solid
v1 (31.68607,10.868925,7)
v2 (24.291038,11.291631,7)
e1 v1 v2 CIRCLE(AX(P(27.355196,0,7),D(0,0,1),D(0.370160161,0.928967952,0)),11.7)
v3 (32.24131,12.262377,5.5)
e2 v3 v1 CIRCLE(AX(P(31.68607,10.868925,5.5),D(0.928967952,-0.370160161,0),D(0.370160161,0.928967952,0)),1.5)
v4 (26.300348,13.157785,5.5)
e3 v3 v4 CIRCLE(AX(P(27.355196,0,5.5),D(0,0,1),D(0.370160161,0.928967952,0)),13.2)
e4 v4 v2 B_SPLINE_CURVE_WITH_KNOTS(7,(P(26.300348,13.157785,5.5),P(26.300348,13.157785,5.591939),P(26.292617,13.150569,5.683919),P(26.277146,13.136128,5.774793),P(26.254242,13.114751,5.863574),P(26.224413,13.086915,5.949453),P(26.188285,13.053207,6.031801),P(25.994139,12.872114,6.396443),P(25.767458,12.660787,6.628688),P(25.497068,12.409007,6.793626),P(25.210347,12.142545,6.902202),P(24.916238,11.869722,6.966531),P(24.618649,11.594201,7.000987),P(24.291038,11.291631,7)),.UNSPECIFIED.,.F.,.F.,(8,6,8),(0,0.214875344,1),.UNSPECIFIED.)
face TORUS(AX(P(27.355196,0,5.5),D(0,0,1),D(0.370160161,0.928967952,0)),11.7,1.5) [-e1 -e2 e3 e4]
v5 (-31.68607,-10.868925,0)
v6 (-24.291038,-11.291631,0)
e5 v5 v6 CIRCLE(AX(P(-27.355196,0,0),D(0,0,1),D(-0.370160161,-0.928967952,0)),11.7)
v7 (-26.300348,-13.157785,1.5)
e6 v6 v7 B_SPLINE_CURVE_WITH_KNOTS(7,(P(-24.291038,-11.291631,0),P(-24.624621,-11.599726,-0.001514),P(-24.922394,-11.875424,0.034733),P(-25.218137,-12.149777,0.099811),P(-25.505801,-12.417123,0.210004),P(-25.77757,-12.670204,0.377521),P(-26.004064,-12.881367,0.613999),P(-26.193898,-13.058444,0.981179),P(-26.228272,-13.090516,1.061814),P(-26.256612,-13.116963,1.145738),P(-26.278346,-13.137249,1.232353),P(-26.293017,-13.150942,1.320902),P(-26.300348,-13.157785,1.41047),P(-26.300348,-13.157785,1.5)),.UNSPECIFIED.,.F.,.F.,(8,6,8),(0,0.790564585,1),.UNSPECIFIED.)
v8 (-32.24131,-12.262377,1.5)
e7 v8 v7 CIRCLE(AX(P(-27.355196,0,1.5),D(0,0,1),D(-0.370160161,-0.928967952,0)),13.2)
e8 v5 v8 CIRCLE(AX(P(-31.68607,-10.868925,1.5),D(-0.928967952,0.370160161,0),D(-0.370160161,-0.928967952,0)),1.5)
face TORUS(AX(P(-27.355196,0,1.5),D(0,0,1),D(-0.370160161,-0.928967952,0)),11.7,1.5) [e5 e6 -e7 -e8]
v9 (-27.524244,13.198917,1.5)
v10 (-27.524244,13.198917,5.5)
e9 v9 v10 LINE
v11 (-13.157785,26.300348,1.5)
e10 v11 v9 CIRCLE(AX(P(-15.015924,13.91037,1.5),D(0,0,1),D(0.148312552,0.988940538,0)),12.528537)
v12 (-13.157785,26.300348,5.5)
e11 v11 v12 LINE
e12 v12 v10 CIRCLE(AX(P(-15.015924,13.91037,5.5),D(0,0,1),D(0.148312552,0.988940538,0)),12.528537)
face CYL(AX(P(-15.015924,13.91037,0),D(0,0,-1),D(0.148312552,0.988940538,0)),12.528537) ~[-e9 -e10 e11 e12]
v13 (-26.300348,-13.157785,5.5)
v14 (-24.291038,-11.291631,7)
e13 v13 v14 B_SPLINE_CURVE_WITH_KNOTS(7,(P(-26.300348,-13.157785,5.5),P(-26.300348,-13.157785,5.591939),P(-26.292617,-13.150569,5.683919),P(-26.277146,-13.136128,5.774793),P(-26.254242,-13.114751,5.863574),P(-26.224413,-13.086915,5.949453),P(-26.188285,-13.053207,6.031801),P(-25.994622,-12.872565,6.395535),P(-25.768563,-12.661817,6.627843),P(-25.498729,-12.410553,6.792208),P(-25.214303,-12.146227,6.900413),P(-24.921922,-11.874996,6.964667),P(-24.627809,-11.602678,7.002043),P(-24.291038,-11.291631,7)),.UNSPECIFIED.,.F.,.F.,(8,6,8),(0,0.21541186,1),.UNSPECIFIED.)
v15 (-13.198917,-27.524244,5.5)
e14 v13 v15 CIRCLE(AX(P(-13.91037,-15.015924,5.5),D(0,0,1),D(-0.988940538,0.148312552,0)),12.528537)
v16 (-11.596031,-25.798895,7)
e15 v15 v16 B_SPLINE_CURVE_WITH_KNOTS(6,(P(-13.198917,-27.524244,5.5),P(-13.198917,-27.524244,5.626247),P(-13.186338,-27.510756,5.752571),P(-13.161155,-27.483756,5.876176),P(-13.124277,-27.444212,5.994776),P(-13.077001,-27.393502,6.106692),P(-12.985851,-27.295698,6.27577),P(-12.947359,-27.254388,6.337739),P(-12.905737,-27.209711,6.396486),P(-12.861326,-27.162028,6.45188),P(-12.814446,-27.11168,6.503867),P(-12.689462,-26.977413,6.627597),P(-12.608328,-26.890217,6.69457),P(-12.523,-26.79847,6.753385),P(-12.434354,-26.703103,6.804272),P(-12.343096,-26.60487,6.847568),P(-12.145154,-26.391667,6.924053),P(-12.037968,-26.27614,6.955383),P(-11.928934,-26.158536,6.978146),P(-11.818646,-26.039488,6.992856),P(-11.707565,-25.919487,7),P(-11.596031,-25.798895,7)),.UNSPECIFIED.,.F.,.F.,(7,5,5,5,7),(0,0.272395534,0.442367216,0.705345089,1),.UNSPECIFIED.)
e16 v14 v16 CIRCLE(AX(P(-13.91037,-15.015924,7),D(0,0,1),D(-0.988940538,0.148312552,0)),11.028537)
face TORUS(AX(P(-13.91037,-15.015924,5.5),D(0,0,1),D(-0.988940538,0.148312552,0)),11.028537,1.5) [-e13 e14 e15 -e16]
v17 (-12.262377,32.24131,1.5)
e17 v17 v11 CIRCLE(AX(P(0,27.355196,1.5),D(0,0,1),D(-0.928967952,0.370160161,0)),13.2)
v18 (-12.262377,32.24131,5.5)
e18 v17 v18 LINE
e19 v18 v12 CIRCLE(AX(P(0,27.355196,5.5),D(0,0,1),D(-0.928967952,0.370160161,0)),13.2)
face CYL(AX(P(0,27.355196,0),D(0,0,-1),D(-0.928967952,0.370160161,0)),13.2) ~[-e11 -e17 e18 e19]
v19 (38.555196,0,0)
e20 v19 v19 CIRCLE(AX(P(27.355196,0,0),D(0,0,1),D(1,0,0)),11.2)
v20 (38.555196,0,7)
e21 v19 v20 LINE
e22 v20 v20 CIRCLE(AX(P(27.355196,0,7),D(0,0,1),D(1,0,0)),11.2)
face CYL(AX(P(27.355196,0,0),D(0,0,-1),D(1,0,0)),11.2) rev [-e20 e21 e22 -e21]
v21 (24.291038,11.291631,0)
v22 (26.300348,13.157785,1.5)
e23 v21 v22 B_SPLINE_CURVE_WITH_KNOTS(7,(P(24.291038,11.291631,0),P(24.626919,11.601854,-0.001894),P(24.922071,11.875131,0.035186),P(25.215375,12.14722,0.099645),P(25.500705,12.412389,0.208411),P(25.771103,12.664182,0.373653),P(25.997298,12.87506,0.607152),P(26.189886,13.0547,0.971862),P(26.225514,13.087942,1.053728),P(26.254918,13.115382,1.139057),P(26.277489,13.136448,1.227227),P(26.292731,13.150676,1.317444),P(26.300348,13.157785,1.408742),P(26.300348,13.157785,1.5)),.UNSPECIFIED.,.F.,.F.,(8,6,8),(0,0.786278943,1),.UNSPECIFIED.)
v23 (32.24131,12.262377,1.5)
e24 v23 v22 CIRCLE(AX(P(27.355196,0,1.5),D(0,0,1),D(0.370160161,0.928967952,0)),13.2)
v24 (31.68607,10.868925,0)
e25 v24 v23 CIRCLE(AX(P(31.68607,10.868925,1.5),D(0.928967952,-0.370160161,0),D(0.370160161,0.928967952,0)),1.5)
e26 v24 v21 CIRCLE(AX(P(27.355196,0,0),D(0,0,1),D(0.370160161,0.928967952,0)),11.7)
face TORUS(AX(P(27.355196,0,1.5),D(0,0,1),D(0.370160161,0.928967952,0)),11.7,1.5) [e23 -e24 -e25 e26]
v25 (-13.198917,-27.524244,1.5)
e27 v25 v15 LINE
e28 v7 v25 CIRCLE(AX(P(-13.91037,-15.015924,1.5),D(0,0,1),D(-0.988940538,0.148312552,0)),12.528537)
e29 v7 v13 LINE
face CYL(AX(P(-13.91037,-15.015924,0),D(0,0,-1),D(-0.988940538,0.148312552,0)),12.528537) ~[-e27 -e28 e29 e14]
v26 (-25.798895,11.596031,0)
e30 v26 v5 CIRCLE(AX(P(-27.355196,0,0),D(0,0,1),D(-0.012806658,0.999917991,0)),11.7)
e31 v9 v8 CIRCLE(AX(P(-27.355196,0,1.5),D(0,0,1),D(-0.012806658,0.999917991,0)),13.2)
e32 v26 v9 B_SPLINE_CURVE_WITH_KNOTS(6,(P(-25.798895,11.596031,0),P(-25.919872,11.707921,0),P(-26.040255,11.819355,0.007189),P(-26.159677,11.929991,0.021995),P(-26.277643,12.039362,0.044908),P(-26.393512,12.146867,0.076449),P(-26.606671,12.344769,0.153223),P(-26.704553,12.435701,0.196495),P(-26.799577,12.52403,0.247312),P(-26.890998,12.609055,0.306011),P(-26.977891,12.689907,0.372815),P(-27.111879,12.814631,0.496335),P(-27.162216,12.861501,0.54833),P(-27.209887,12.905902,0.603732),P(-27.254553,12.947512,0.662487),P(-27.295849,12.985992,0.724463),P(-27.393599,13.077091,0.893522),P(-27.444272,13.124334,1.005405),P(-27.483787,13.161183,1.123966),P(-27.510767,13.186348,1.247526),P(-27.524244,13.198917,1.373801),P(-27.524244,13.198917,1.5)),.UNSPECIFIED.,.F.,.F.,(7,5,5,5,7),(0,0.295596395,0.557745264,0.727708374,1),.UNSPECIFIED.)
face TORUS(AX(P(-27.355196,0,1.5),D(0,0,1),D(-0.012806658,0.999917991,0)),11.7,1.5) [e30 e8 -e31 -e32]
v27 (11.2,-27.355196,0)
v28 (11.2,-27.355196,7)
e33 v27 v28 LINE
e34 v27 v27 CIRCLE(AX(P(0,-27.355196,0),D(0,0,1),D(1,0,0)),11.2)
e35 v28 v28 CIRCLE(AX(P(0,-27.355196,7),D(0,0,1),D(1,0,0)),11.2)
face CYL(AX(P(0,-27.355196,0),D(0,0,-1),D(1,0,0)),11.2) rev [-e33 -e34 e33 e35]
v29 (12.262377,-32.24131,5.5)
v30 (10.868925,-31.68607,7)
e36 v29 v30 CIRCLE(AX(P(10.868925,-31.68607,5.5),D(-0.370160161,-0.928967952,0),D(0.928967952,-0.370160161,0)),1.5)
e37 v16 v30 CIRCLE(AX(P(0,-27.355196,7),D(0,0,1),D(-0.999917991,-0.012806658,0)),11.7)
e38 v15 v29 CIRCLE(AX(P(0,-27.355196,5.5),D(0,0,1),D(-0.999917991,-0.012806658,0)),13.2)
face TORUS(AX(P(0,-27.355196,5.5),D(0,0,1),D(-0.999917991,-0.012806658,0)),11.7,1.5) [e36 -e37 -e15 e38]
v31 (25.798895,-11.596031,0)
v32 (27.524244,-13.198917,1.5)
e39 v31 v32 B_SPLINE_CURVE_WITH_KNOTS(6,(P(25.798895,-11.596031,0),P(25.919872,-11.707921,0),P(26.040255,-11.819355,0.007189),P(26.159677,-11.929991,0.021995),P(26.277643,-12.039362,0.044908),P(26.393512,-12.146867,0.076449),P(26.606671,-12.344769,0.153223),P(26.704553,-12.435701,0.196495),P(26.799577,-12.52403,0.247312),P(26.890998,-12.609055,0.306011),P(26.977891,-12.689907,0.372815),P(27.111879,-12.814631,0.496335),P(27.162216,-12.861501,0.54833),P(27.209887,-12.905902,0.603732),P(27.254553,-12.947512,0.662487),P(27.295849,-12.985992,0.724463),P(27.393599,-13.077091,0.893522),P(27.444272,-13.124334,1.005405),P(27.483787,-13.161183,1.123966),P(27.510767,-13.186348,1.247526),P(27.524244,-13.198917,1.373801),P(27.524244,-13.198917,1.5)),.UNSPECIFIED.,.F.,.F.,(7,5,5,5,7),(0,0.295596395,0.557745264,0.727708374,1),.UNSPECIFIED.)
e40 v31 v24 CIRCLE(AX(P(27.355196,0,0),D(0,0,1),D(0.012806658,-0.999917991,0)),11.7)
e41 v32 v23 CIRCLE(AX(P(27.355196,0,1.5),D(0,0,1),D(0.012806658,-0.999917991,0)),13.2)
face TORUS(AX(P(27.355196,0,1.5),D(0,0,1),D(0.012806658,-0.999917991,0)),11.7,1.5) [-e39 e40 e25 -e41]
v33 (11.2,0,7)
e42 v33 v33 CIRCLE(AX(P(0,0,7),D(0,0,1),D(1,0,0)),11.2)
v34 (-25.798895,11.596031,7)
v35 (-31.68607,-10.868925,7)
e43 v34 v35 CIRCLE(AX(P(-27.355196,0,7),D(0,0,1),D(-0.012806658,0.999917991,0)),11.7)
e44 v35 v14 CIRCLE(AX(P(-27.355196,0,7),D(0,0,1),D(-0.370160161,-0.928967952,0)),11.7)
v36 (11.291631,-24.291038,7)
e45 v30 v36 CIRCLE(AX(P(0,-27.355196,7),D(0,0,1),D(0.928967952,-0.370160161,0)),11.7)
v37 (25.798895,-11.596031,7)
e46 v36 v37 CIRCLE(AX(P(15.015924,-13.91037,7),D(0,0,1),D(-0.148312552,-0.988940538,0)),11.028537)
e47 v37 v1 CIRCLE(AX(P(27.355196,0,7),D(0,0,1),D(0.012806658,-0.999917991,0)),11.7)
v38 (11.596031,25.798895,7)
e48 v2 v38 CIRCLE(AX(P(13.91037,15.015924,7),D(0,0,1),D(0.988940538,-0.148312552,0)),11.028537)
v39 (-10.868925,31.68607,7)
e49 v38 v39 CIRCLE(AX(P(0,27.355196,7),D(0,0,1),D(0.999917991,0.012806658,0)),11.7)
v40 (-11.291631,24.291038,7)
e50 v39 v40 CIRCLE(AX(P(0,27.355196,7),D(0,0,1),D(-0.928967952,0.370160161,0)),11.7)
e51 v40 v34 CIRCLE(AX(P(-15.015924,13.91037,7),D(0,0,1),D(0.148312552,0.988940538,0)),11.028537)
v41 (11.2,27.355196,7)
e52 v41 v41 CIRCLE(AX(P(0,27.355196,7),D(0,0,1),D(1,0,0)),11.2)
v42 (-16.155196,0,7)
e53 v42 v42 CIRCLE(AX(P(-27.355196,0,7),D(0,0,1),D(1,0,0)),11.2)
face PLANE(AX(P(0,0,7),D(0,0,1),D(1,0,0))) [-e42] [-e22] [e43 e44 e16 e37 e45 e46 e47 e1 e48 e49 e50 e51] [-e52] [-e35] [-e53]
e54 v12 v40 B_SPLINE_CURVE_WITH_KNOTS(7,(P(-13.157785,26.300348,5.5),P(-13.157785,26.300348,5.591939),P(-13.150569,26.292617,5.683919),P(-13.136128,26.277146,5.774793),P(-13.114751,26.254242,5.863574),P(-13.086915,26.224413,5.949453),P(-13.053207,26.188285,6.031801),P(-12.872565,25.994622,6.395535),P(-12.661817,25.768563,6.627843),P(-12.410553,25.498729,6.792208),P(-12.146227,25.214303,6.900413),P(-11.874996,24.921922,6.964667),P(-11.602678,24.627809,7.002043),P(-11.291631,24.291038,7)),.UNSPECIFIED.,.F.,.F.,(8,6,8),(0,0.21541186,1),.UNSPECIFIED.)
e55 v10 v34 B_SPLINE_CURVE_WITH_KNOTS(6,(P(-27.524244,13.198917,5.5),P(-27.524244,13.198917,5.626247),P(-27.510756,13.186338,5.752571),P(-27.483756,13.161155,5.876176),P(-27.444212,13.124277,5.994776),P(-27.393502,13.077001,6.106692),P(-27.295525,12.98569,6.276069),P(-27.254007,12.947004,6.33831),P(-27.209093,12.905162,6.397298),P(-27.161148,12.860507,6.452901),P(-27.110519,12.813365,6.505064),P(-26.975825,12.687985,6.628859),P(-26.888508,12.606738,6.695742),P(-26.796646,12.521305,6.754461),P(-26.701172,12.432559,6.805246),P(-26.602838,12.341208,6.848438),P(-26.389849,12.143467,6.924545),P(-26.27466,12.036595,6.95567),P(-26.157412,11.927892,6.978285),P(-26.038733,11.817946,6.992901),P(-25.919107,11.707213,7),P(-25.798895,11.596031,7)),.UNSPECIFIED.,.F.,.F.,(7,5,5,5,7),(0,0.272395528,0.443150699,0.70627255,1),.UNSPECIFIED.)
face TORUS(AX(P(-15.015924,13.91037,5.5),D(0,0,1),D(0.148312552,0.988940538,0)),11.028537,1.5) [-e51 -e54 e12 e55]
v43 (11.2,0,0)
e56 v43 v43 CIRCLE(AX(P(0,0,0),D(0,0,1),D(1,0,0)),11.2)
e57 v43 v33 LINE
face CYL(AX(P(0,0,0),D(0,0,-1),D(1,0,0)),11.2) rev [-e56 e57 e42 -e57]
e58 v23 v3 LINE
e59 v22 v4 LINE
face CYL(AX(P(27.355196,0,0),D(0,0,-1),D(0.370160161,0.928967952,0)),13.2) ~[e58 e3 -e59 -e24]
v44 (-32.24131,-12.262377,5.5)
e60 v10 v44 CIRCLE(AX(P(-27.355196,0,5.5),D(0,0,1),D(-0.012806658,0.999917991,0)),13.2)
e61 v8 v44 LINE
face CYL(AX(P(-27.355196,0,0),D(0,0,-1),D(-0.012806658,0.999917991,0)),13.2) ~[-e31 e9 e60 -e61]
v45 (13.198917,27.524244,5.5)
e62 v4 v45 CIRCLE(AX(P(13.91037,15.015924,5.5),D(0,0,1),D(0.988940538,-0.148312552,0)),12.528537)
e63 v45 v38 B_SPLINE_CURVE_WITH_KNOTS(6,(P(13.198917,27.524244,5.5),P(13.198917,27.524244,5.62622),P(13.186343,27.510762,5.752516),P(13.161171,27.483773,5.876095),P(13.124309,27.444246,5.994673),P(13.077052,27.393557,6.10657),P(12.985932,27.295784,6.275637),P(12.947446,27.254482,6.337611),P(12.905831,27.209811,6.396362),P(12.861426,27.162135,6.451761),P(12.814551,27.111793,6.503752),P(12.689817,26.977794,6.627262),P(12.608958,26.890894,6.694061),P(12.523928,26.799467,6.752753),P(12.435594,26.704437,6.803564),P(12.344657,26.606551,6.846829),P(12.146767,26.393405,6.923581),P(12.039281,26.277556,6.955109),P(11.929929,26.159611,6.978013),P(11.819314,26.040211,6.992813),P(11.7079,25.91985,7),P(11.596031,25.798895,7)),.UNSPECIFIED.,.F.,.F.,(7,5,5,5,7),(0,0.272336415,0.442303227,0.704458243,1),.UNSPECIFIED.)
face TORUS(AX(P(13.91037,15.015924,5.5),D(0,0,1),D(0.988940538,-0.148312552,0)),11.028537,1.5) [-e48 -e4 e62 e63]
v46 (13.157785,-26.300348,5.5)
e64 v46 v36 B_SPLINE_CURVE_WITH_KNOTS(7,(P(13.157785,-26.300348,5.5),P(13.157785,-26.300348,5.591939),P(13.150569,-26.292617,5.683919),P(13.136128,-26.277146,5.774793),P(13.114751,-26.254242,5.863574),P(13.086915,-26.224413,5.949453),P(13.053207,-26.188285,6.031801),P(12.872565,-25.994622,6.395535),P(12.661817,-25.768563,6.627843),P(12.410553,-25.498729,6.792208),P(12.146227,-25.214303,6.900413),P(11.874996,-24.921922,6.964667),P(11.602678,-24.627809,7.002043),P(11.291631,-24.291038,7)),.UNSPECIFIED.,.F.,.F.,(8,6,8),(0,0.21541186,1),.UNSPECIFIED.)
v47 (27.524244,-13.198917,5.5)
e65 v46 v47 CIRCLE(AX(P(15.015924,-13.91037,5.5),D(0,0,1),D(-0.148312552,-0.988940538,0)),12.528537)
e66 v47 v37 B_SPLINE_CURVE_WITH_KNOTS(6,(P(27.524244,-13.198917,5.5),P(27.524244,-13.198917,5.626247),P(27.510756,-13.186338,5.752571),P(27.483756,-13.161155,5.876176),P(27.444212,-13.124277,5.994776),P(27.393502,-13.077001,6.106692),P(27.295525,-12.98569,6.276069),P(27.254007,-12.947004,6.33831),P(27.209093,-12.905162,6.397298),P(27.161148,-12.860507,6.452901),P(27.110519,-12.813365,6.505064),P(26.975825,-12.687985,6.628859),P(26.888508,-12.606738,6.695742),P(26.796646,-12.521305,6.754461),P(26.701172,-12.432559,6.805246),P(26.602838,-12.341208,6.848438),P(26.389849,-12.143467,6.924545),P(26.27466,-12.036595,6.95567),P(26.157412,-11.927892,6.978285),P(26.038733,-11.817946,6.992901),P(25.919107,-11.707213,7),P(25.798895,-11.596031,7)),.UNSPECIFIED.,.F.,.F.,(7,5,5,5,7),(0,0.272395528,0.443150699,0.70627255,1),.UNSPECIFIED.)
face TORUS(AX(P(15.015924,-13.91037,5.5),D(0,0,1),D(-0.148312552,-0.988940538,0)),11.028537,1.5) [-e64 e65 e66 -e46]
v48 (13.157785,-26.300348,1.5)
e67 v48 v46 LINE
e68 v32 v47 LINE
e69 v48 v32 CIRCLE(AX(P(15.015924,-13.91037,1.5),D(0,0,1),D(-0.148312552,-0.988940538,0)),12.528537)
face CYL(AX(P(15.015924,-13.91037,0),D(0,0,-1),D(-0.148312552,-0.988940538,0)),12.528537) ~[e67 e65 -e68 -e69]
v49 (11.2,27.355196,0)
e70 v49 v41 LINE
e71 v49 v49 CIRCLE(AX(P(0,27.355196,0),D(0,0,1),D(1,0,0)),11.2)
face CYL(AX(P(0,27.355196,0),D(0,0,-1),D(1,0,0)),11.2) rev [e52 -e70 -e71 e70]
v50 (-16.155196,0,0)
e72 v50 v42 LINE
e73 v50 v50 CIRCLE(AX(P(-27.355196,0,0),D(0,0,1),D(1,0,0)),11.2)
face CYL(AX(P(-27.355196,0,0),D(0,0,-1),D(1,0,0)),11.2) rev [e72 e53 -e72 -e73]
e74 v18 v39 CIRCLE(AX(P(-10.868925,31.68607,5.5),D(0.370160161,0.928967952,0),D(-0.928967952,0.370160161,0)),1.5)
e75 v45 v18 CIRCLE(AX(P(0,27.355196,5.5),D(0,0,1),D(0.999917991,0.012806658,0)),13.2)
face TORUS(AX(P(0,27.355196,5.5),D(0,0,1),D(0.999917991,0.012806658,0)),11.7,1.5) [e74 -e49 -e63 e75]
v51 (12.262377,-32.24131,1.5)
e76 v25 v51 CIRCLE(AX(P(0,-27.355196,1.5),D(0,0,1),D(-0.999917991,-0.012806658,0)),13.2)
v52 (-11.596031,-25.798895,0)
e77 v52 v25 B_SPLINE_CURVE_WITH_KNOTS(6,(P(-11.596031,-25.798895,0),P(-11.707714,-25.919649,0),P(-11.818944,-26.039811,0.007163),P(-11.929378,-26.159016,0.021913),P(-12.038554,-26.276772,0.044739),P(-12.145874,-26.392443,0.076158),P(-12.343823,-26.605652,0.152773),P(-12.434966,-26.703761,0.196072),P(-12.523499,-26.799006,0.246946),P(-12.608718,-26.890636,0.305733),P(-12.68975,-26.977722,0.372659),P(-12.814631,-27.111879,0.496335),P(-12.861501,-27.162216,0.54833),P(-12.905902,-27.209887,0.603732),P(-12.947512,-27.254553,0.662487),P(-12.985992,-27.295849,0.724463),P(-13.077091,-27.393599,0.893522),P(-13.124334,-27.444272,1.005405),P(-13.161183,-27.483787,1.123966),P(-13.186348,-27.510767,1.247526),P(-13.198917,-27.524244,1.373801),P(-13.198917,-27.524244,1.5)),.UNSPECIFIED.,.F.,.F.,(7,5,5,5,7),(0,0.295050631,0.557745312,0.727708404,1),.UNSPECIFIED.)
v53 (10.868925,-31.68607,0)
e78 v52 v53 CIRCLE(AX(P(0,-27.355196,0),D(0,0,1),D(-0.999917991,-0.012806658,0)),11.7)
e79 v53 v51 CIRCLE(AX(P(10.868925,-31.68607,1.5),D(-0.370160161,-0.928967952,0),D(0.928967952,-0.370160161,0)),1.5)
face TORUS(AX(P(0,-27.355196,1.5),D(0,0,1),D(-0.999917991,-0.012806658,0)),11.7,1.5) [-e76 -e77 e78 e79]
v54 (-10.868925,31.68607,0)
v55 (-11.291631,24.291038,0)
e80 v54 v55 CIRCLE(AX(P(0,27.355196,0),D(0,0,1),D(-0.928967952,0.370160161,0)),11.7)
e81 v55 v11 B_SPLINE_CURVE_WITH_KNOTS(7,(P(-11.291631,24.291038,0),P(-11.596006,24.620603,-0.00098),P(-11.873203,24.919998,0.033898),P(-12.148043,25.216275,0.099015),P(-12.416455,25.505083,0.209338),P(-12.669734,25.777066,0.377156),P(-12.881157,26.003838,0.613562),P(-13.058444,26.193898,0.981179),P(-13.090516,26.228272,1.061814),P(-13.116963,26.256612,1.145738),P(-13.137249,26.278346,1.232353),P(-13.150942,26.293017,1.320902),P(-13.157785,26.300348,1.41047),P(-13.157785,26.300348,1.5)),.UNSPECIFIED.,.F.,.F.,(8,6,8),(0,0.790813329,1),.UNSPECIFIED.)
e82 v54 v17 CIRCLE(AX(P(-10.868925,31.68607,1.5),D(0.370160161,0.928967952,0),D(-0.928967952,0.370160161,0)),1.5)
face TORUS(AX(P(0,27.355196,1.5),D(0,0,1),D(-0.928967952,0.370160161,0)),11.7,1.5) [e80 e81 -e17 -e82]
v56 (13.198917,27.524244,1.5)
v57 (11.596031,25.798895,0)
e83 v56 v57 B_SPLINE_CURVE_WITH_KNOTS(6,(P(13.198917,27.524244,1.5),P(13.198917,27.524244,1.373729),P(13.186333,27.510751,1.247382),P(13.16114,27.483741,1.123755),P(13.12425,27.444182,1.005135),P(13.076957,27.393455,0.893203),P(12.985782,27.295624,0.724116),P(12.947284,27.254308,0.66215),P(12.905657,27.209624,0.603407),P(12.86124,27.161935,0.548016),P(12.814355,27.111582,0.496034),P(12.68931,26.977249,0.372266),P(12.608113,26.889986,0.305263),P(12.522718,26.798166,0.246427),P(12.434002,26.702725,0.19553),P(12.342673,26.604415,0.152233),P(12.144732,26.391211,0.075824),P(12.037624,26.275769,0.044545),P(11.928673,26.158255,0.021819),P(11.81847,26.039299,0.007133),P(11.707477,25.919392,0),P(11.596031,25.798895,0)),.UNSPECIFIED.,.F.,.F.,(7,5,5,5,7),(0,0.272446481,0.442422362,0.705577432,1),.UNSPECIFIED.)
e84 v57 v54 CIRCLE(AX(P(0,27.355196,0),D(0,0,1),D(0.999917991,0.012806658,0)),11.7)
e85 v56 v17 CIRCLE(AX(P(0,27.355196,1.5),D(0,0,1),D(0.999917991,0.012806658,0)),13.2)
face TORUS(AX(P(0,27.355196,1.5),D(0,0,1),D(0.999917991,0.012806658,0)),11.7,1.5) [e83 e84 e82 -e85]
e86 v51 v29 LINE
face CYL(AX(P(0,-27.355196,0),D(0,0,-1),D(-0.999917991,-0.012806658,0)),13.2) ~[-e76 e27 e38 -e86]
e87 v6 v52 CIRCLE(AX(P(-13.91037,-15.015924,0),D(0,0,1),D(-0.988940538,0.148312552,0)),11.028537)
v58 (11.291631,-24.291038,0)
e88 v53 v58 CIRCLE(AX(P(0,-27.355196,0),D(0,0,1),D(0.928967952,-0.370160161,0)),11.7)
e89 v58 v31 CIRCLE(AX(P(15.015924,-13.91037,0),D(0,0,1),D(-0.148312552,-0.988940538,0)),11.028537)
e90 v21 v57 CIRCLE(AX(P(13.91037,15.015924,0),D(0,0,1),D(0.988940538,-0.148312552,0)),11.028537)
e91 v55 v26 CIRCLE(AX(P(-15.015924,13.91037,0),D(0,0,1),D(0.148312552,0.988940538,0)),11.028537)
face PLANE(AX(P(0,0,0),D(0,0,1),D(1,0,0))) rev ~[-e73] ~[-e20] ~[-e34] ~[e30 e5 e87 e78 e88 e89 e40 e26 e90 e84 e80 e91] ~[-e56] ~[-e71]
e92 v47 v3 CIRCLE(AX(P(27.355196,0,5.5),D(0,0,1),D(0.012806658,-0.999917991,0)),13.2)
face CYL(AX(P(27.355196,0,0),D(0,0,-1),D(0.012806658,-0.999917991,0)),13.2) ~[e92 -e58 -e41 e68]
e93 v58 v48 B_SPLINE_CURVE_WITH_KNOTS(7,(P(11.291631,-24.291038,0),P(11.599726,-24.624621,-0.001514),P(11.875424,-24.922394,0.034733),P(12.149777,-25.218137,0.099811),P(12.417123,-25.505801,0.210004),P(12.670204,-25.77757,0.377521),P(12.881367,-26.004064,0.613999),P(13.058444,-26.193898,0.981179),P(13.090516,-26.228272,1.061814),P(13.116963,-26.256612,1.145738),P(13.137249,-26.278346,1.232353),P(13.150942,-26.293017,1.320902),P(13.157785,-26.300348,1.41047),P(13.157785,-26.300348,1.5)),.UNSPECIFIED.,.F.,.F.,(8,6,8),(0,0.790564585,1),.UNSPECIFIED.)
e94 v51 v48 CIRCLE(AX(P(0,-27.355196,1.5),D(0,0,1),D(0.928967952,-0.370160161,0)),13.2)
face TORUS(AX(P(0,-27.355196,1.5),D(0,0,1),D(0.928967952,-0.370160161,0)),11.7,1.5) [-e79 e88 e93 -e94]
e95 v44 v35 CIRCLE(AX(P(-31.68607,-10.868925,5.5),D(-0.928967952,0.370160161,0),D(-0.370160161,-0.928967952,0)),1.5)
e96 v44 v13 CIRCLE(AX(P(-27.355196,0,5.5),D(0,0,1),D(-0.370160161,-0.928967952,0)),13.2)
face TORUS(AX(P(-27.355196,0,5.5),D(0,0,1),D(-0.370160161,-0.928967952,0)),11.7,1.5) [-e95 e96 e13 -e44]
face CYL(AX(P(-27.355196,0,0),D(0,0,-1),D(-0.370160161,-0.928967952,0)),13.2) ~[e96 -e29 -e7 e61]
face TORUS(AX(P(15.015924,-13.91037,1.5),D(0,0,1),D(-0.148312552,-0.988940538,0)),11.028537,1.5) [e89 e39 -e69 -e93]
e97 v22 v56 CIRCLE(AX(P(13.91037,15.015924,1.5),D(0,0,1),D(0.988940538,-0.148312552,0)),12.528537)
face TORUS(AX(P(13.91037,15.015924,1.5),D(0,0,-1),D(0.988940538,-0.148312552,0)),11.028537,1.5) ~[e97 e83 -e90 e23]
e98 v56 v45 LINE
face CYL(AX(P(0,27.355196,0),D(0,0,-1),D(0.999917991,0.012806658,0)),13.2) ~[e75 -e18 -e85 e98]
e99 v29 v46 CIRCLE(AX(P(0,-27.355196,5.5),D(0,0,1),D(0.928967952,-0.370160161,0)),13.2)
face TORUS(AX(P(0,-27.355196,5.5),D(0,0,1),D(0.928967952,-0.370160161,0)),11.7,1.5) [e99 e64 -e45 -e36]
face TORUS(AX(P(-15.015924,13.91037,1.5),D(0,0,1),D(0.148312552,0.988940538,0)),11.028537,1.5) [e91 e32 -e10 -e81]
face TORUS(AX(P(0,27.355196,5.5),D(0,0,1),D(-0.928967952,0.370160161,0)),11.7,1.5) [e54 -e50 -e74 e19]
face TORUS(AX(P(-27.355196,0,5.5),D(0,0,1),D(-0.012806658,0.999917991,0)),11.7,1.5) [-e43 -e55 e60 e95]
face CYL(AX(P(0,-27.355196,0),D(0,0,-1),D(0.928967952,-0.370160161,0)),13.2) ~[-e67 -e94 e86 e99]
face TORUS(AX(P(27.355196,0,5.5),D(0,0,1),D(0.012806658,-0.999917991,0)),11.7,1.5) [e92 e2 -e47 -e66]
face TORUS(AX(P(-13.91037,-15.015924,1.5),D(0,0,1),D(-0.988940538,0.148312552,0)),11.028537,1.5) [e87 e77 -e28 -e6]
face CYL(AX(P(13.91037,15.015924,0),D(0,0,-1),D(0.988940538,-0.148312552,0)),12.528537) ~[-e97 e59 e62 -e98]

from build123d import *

# Parameters (mm, degrees)
F0_R     = 11.2
F1_DEPTH = 7
F2_R     = 1.5
F3_R     = 1.5


with BuildPart() as f1:
    # F0 (on Top) → F1 (new body)
    with BuildSketch(Plane.XY):
        with BuildLine():
            ThreePointArc((26.3003475196, 13.1577845696), (17.8154771585, 18.5771696517), (13.1989174864, 27.5242438386))
            ThreePointArc((13.1989174864, 27.5242438386), (2.4045697184, 40.3343347729), (-12.2623769601, 32.2413100841))
            ThreePointArc((-12.2623769601, 32.2413100841), (-12.4782333133, 29.2358853108), (-13.1577845696, 26.3003475196))
            ThreePointArc((-13.1577845696, 26.3003475196), (-18.5771696517, 17.8154771585), (-27.5242438386, 13.1989174864))
            ThreePointArc((-27.5242438386, 13.1989174864), (-40.3343347729, 2.4045697184), (-32.2413100841, -12.2623769601))
            ThreePointArc((-32.2413100841, -12.2623769601), (-29.2358853108, -12.4782333133), (-26.3003475196, -13.1577845696))
            ThreePointArc((-26.3003475196, -13.1577845696), (-17.8154771585, -18.5771696517), (-13.1989174864, -27.5242438386))
            ThreePointArc((-13.1989174864, -27.5242438386), (-2.4045697184, -40.3343347729), (12.2623769601, -32.2413100841))
            ThreePointArc((12.2623769601, -32.2413100841), (12.4782333133, -29.2358853108), (13.1577845696, -26.3003475196))
            ThreePointArc((13.1577845696, -26.3003475196), (18.5771696517, -17.8154771585), (27.5242438386, -13.1989174864))
            ThreePointArc((27.5242438386, -13.1989174864), (40.3343347729, -2.4045697184), (32.2413100841, 12.2623769601))
            ThreePointArc((32.2413100841, 12.2623769601), (29.2358853108, 12.4782333133), (26.3003475196, 13.1577845696))
        make_face()
        with Locations((-27.3551959544, 0)):
            Circle(F0_R, mode=Mode.SUBTRACT)
        with Locations((0, -27.3551959544)):
            Circle(F0_R, mode=Mode.SUBTRACT)
        Circle(F0_R, mode=Mode.SUBTRACT)
        with Locations((27.3551959544, 0)):
            Circle(F0_R, mode=Mode.SUBTRACT)
        with Locations((0, 27.3551959544)):
            Circle(F0_R, mode=Mode.SUBTRACT)
        with BuildLine():
            ThreePointArc((26.3003475196, 13.1577845696), (23.1675710934, 23.4579884328), (13.1989174864, 27.5242438386))
            ThreePointArc((13.1989174864, 27.5242438386), (17.8154771585, 18.5771696517), (26.3003475196, 13.1577845696))
        make_face()
        with BuildLine():
            ThreePointArc((-13.1577845696, 26.3003475196), (-12.4782333133, 29.2358853108), (-12.2623769601, 32.2413100841))
            ThreePointArc((-12.2623769601, 32.2413100841), (-13.0525825834, 29.3224498534), (-13.1577845696, 26.3003475196))
        make_face()
        with BuildLine():
            ThreePointArc((32.2413100841, 12.2623769601), (29.3224498534, 13.0525825834), (26.3003475196, 13.1577845696))
            ThreePointArc((26.3003475196, 13.1577845696), (29.2358853108, 12.4782333133), (32.2413100841, 12.2623769601))
        make_face()
        with BuildLine():
            ThreePointArc((-27.5242438386, 13.1989174864), (-18.5771696517, 17.8154771585), (-13.1577845696, 26.3003475196))
            ThreePointArc((-13.1577845696, 26.3003475196), (-23.4579884328, 23.1675710934), (-27.5242438386, 13.1989174864))
        make_face()
        with BuildLine():
            ThreePointArc((13.1577845696, -26.3003475196), (23.4579884328, -23.1675710934), (27.5242438386, -13.1989174864))
            ThreePointArc((27.5242438386, -13.1989174864), (18.5771696517, -17.8154771585), (13.1577845696, -26.3003475196))
        make_face()
        with BuildLine():
            ThreePointArc((-26.3003475196, -13.1577845696), (-29.2358853108, -12.4782333133), (-32.2413100841, -12.2623769601))
            ThreePointArc((-32.2413100841, -12.2623769601), (-29.3224498534, -13.0525825834), (-26.3003475196, -13.1577845696))
        make_face()
        with BuildLine():
            ThreePointArc((12.2623769601, -32.2413100841), (13.0525825834, -29.3224498534), (13.1577845696, -26.3003475196))
            ThreePointArc((13.1577845696, -26.3003475196), (12.4782333133, -29.2358853108), (12.2623769601, -32.2413100841))
        make_face()
        with BuildLine():
            ThreePointArc((-13.1989174864, -27.5242438386), (-17.8154771585, -18.5771696517), (-26.3003475196, -13.1577845696))
            ThreePointArc((-26.3003475196, -13.1577845696), (-23.1675710934, -23.4579884328), (-13.1989174864, -27.5242438386))
        make_face()
    extrude(amount=F1_DEPTH)

    # F2
    f2_edges = [f1.edges().sort_by_distance(p)[0] for p in [
        (40.540987, 0.612294, 7),
        (23.457988, -23.167571, 7),
        (0.612294, -40.540987, 7),
        (-23.167571, -23.457988, 7),
        (-40.540987, -0.612294, 7),
        (-23.457988, 23.167571, 7),
        (-0.612294, 40.540987, 7),
        (23.167571, 23.457988, 7),
    ]]
    fillet(f2_edges, radius=F2_R)

    # F3
    f3_edges = [f1.edges().sort_by_distance(p)[0] for p in [
        (0.612294, -40.540987, 0),
        (23.457988, -23.167571, 0),
        (40.540987, 0.612294, 0),
        (23.167571, 23.457988, 0),
        (-0.612294, 40.540987, 0),
        (-23.457988, 23.167571, 0),
        (-40.540987, -0.612294, 0),
        (-23.167571, -23.457988, 0),
    ]]
    fillet(f3_edges, radius=F3_R)


solid = f1.part
